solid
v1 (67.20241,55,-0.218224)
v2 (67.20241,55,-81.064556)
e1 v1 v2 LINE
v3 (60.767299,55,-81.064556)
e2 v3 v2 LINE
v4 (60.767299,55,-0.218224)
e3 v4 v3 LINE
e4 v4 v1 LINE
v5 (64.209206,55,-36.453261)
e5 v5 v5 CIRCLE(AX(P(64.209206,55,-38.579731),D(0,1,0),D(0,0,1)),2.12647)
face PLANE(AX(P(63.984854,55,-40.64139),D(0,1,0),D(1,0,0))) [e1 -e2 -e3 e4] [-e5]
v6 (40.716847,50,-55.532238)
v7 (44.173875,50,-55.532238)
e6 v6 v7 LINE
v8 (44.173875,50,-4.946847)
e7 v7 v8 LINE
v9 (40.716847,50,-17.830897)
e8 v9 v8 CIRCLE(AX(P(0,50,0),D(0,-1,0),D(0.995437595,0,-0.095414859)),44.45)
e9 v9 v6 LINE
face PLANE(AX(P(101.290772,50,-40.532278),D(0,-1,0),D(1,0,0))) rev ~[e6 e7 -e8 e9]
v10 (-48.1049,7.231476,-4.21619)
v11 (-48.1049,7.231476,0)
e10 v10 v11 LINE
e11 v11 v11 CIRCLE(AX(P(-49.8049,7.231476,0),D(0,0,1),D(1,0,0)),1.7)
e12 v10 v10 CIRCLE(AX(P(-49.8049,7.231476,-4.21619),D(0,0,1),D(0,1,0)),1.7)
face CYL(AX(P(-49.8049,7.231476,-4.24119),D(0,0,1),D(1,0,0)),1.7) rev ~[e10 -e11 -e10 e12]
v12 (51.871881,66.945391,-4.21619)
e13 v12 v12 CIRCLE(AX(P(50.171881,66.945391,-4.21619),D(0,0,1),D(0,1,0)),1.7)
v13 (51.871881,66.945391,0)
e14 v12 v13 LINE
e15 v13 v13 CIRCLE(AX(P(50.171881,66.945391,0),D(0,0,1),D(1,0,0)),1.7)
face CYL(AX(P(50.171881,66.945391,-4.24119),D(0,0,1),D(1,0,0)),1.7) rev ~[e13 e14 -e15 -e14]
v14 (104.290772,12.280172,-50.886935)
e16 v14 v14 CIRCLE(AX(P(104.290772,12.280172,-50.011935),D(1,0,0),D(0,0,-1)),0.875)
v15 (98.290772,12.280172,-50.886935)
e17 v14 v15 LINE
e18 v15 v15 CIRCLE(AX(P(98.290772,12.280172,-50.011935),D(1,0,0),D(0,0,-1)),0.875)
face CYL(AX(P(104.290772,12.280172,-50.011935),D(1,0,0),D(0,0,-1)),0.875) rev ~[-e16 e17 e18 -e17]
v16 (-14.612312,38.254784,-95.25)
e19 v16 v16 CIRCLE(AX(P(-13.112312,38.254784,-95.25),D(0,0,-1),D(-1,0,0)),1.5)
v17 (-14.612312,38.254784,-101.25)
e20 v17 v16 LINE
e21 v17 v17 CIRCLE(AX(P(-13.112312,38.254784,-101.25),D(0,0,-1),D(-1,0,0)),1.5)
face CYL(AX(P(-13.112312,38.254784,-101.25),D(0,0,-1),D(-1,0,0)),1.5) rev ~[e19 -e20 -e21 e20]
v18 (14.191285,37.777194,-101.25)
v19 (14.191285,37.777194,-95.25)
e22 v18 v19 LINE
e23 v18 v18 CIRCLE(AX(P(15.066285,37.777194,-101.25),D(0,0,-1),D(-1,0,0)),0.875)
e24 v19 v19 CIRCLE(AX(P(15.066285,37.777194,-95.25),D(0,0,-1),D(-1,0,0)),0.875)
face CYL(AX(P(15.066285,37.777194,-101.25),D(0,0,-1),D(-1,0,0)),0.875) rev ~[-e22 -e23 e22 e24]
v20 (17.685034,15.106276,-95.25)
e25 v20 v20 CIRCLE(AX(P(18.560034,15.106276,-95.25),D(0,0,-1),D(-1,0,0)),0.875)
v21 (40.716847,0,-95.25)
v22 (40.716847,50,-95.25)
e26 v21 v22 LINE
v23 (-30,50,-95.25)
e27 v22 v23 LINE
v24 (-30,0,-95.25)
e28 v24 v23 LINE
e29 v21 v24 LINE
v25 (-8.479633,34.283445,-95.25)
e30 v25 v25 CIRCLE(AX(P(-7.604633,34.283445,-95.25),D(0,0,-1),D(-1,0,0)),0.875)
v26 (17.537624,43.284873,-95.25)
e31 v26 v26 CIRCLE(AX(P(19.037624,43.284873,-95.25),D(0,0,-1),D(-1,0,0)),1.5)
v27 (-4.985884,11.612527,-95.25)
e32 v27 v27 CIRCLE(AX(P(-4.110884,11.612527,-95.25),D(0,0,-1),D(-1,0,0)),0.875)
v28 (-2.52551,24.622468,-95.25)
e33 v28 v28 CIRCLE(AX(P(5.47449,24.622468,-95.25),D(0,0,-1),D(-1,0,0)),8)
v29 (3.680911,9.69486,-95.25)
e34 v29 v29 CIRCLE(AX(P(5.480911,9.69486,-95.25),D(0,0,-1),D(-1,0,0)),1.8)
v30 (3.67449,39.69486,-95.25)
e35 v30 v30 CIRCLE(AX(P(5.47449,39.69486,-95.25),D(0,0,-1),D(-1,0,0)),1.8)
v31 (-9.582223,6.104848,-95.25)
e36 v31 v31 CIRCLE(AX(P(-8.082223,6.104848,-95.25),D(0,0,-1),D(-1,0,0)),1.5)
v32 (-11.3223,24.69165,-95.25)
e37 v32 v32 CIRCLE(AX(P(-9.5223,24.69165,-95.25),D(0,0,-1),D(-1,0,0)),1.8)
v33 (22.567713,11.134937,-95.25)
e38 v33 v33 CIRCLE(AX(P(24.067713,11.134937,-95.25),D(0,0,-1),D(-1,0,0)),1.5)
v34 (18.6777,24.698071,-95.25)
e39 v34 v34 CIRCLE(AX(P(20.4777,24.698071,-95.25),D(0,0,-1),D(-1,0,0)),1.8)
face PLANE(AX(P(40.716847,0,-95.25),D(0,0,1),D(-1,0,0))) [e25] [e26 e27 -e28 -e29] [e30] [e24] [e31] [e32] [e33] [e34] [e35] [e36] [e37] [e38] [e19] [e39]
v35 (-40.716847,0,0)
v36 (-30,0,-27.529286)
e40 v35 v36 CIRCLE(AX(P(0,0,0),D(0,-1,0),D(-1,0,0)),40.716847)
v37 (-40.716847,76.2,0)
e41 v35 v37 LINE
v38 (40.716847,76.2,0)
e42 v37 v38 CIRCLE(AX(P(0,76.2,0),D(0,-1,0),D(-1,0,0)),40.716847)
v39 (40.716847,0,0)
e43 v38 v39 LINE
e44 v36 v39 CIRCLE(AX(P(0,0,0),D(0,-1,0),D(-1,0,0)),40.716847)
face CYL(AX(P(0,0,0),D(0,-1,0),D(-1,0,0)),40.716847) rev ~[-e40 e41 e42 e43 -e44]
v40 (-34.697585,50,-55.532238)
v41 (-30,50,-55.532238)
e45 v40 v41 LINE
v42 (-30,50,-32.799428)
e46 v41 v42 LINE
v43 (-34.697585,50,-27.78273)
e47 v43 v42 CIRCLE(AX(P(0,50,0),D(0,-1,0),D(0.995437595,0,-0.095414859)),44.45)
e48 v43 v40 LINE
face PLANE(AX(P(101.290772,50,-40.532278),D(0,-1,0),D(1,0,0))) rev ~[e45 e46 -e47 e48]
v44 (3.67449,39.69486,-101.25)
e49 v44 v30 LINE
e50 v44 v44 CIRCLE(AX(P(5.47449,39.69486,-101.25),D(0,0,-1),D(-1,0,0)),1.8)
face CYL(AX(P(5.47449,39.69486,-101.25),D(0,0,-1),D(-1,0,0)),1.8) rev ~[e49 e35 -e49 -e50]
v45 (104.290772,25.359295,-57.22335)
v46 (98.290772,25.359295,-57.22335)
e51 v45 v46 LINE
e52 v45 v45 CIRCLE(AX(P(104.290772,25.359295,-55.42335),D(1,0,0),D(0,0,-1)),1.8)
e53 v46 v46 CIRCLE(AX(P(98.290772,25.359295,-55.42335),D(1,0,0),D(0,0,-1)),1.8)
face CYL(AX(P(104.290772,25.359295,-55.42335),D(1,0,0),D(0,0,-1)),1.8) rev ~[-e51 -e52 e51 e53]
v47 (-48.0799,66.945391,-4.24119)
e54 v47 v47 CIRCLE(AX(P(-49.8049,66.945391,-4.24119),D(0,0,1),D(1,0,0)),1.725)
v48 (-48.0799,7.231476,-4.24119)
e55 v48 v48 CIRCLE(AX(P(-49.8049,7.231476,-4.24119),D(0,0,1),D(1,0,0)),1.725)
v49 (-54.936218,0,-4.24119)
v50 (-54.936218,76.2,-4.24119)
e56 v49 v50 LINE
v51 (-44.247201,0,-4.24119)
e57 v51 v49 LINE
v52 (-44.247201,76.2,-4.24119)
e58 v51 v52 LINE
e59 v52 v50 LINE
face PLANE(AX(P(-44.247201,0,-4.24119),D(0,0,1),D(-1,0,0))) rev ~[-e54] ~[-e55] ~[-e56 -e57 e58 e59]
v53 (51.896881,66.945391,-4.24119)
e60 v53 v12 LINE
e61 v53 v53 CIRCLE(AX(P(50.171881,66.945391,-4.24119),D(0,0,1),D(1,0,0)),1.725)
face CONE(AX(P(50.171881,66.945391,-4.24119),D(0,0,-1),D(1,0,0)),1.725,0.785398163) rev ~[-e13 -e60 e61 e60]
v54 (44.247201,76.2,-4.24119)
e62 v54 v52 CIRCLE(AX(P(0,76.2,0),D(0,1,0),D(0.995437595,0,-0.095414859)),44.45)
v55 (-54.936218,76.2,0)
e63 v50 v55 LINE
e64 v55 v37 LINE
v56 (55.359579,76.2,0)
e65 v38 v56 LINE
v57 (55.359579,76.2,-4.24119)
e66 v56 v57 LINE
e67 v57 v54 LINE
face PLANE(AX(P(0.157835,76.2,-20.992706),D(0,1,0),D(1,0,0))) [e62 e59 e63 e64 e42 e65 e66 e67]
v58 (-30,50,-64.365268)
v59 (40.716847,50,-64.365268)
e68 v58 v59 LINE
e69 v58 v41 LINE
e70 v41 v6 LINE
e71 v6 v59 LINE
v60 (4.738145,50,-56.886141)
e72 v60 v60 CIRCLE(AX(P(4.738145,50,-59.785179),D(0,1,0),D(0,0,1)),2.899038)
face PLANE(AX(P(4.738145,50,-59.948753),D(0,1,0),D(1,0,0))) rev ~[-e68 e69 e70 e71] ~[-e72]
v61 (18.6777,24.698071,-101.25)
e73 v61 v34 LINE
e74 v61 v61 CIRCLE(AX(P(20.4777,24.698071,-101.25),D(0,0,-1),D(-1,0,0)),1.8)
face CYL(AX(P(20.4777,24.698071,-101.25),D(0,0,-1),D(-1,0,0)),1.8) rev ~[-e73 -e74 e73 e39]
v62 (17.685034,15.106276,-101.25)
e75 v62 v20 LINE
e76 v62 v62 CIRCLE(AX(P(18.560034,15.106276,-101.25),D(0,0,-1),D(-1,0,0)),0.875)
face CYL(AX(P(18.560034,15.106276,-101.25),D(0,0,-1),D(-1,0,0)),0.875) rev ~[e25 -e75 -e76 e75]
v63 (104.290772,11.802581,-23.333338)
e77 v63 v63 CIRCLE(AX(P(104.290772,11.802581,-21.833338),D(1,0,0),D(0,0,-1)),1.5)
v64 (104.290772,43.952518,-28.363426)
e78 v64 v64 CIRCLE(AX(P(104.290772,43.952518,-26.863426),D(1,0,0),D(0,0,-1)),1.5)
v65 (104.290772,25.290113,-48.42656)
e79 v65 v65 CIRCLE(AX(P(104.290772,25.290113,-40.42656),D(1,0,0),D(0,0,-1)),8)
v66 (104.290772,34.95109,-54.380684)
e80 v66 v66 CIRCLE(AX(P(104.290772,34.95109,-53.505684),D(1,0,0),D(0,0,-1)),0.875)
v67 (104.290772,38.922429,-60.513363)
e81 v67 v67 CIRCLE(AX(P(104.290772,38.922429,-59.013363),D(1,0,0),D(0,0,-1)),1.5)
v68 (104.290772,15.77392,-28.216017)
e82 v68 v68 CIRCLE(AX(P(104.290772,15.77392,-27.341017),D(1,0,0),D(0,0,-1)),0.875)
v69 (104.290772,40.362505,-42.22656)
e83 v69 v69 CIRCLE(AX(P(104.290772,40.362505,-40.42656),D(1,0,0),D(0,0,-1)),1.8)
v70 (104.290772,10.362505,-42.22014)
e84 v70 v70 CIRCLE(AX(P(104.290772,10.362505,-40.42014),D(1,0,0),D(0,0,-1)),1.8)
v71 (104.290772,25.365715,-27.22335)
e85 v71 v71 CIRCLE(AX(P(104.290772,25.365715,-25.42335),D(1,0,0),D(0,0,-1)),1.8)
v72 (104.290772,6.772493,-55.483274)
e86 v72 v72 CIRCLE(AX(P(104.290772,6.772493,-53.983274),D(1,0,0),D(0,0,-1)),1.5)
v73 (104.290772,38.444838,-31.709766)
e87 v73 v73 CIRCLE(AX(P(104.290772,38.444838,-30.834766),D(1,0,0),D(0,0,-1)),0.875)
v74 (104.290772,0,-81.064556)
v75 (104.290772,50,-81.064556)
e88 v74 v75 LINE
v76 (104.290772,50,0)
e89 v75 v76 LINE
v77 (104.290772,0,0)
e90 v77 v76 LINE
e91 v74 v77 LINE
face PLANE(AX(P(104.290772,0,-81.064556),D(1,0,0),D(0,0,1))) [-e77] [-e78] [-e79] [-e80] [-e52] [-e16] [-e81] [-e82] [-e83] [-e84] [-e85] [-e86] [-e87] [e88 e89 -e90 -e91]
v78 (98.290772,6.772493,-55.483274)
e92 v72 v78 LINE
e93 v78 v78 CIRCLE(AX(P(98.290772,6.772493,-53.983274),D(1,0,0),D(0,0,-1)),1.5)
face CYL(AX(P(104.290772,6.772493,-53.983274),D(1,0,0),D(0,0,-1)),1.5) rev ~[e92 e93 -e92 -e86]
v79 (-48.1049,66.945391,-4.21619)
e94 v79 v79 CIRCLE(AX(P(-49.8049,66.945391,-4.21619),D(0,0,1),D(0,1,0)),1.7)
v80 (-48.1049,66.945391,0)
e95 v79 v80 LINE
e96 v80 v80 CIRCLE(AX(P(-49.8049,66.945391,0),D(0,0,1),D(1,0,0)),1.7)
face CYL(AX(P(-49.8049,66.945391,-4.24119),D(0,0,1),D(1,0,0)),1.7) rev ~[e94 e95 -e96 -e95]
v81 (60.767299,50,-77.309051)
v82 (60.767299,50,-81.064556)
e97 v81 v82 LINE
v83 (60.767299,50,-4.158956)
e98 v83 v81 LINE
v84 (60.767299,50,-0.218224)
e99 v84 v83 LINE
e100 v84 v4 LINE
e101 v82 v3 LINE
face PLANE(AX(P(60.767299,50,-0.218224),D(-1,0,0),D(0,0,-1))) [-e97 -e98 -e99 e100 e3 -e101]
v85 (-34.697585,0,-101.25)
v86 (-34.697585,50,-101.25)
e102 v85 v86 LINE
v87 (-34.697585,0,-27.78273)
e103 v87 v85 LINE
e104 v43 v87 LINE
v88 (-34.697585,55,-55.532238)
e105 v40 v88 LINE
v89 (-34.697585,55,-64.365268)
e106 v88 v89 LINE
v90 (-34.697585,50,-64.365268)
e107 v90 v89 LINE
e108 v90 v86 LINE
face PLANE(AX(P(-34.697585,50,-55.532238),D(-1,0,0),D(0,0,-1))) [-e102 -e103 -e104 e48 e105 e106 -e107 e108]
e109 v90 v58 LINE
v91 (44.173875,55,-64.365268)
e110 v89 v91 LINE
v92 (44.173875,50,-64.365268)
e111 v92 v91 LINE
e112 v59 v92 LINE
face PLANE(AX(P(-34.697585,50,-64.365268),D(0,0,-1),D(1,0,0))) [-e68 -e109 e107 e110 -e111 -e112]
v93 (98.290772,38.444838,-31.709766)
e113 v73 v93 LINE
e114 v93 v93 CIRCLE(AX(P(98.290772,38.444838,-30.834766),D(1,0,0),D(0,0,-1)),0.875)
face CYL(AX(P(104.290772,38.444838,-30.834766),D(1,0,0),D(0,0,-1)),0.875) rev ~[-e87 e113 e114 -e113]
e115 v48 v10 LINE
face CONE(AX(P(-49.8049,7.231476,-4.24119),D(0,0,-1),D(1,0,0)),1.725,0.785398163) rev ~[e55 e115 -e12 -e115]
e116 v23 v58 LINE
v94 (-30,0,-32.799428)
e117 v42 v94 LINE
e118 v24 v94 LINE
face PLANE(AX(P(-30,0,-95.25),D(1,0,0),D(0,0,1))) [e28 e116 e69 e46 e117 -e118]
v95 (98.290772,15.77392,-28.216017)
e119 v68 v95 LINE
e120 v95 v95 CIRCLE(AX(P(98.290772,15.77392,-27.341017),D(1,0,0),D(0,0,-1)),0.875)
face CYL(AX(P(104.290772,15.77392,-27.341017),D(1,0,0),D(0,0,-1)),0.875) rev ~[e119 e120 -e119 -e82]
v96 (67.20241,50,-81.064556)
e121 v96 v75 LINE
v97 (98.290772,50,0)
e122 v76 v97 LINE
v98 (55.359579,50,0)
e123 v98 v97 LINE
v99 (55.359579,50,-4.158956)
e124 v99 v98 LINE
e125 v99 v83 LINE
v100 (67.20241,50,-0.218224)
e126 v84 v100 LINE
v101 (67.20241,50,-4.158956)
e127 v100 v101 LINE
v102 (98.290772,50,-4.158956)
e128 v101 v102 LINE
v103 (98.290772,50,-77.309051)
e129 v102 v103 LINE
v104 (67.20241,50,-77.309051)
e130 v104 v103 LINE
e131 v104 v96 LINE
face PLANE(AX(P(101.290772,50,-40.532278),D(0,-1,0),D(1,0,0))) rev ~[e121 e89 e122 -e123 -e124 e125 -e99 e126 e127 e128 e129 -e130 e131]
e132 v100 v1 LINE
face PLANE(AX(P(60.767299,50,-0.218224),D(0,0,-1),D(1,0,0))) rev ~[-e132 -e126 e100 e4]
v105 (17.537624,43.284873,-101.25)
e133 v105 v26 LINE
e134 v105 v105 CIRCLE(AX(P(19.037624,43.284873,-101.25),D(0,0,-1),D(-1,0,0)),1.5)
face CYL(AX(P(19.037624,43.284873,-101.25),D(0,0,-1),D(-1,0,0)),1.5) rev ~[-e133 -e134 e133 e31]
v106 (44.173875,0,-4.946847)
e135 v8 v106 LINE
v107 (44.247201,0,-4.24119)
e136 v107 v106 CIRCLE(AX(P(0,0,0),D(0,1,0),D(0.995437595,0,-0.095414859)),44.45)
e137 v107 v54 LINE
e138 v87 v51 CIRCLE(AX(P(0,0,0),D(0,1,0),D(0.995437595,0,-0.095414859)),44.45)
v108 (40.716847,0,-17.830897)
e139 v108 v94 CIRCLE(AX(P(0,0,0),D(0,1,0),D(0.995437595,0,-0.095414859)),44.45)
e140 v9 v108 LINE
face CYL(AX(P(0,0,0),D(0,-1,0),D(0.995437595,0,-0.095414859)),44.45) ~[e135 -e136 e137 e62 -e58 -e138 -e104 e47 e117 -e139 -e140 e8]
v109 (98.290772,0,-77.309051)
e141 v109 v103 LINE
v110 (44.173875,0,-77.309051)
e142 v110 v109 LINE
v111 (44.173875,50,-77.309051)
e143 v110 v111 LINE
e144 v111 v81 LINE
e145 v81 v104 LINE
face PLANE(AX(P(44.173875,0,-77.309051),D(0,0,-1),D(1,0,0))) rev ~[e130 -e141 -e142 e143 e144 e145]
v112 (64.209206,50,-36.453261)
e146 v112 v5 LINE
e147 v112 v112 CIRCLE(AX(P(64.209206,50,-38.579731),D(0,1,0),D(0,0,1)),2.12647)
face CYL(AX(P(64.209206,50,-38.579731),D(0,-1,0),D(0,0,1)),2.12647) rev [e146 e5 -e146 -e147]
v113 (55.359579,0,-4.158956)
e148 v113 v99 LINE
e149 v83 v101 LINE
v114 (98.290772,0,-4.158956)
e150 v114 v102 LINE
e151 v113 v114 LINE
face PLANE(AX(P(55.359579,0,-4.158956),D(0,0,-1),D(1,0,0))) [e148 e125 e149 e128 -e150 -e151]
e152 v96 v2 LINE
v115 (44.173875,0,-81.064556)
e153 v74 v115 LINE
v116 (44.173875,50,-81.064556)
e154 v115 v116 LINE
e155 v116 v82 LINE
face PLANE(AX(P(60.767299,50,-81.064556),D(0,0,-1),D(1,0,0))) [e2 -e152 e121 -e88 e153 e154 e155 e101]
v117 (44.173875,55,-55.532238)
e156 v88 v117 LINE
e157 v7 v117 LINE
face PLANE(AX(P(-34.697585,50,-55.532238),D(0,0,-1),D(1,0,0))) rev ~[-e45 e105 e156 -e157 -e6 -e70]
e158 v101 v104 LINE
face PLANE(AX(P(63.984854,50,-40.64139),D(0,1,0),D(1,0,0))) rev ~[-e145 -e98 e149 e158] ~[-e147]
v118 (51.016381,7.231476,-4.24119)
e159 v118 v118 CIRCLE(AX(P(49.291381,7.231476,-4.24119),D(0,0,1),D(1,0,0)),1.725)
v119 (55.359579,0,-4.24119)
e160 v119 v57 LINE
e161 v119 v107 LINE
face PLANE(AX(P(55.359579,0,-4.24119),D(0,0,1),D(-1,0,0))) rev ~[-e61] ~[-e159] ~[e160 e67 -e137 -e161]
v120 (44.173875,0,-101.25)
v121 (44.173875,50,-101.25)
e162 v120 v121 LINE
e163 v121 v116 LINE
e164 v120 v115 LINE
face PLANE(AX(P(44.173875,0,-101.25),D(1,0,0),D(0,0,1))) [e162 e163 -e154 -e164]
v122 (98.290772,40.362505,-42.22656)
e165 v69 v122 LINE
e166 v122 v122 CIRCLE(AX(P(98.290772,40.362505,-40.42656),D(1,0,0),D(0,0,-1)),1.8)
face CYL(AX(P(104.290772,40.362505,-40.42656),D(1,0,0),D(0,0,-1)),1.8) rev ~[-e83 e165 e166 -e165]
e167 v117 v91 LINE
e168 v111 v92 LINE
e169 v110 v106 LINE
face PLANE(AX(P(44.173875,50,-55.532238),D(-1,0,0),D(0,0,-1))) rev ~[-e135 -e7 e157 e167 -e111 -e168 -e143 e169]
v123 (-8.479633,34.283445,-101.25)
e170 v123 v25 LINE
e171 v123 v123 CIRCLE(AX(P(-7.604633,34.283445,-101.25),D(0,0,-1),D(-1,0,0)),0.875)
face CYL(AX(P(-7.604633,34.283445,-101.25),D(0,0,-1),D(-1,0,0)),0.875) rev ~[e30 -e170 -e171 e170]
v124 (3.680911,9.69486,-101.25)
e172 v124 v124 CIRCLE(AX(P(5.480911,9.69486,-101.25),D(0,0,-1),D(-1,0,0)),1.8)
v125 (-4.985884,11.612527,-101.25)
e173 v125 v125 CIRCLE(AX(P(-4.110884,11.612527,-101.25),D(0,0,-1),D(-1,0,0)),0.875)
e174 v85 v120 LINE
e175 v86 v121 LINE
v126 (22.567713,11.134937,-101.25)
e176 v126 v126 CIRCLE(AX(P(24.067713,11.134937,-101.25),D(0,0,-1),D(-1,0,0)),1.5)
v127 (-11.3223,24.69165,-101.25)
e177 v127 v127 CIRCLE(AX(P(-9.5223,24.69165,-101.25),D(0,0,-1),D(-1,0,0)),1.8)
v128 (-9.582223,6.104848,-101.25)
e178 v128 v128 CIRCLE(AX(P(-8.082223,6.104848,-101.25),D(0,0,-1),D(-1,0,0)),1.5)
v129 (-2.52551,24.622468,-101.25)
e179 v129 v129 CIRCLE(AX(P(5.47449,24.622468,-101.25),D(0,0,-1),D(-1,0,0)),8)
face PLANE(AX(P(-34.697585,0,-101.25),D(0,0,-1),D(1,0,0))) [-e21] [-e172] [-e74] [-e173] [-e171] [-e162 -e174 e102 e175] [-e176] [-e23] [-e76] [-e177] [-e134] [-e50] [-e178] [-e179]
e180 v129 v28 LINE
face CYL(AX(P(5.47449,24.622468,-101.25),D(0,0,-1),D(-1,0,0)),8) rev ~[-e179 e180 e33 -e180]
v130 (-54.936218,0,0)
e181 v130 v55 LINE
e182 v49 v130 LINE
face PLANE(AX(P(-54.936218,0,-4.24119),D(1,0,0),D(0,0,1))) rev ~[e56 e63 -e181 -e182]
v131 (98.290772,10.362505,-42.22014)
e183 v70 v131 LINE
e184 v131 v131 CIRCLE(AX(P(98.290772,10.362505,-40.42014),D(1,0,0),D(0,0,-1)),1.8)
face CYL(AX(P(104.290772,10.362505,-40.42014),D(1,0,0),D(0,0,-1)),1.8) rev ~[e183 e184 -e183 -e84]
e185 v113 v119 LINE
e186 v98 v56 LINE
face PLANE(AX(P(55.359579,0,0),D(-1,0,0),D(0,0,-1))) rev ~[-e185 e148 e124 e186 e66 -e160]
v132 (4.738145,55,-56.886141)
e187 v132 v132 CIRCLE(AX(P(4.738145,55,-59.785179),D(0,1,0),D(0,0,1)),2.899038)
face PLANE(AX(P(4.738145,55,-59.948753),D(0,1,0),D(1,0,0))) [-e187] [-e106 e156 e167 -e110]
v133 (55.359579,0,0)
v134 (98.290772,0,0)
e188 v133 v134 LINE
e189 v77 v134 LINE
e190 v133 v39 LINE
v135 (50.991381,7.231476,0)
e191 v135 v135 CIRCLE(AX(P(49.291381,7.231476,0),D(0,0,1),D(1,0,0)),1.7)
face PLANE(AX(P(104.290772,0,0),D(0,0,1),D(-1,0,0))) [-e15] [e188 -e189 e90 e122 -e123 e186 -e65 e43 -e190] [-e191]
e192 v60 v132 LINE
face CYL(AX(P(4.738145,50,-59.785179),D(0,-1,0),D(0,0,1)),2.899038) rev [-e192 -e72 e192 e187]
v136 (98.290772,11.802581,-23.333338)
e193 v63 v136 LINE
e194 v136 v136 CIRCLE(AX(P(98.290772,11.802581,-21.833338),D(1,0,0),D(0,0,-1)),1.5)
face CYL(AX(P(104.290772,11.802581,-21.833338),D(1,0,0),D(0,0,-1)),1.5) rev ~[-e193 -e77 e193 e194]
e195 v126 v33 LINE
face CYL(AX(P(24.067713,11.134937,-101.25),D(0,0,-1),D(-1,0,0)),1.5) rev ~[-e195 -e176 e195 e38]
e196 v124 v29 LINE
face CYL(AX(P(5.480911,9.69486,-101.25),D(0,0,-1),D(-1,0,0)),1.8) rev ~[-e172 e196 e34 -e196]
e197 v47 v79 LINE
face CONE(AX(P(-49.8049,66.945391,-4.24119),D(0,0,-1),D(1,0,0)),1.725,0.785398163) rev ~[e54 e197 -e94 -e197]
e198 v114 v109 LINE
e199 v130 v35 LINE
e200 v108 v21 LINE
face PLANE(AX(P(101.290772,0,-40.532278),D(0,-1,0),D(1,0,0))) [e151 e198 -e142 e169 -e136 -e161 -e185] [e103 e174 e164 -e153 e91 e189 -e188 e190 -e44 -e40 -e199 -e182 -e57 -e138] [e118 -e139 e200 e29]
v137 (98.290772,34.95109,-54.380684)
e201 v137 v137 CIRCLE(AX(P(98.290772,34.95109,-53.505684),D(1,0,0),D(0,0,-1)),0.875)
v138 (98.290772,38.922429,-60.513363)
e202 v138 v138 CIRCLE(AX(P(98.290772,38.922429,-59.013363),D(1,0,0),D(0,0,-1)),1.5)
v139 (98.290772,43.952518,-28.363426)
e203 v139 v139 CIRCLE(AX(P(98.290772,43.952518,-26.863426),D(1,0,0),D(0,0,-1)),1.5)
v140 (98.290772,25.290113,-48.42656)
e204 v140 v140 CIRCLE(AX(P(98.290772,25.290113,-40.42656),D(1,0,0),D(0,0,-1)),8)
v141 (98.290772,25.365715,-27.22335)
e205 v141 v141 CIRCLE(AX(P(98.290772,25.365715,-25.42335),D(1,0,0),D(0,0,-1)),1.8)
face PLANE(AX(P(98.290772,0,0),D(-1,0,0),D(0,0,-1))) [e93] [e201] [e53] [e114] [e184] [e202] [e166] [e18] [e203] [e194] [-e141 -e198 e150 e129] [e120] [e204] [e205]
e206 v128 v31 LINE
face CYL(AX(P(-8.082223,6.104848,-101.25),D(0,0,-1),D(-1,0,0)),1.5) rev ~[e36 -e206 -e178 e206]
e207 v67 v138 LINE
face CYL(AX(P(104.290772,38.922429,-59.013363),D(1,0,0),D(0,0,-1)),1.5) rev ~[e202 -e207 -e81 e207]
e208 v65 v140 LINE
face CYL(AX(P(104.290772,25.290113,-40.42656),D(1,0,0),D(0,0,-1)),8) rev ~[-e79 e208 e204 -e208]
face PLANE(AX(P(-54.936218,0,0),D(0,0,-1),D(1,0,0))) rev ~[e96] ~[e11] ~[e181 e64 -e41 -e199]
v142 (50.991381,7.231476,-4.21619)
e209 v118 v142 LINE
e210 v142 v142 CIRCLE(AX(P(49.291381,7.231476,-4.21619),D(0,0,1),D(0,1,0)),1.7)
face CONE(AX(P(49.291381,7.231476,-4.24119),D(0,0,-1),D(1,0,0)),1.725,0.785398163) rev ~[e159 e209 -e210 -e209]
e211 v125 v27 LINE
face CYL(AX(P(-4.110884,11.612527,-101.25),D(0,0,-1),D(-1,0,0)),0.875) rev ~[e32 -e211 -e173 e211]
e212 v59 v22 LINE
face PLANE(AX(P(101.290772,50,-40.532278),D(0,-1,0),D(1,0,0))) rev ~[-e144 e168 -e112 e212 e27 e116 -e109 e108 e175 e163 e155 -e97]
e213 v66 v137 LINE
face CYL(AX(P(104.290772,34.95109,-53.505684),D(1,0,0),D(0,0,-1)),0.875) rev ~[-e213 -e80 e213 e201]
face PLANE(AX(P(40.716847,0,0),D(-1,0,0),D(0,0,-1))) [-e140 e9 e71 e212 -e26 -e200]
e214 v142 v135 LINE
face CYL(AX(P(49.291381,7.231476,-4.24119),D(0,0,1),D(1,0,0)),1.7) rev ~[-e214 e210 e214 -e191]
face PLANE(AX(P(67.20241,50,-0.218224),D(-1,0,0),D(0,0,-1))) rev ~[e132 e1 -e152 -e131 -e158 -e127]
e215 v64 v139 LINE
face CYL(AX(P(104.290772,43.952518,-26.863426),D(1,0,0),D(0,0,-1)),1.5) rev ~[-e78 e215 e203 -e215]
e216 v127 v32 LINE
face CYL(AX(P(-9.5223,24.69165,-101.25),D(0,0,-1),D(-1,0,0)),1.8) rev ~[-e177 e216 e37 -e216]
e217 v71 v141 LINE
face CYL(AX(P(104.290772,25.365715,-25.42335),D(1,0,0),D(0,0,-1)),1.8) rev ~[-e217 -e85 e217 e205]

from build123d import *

# Parameters (mm, degrees)
BOSS_EXTRUDE1_DEPTH            = 76.2
M3_CLEARANCE_HOLE1_D           = 3.4
M3_CLEARANCE_HOLE1_CSINK_D     = 3.45
M3_CLEARANCE_HOLE1_CSINK_ANGLE = 90
BOSS_EXTRUDE2_DEPTH            = 50
CUT_EXTRUDE1_REACH             = 140.285
SKETCH6_R                      = 8
SKETCH6_R_2                    = 0.875
SKETCH6_R_3                    = 1.8
SKETCH6_R_4                    = 1.5
SKETCH8_W                      = 57.573925352
SKETCH8_H                      = 3.755504354
SKETCH8_W_2                    = 42.931192533
SKETCH8_H_2                    = 4.158956093
BOSS_EXTRUDE4_DEPTH            = 50
BOSS_EXTRUDE5_DEPTH            = 50
CUT_EXTRUDE2_REACH             = 205.498
SKETCH9_R                      = 8
SKETCH9_R_2                    = 0.875
SKETCH9_R_3                    = 1.8
SKETCH9_R_4                    = 1.5
SKETCH11_W                     = 78.871459379
SKETCH11_H                     = 8.833029297
SKETCH11_R                     = 2.899037526
BOSS_EXTRUDE6_DEPTH            = 5
SKETCH13_W                     = 6.435110791
SKETCH13_H                     = 80.84633132
SKETCH13_R                     = 2.126470016
BOSS_EXTRUDE9_DEPTH            = 5


with BuildPart() as part:
    # Sketch1 → Boss-Extrude1 (new body)
    with BuildSketch(Plane(origin=(0, 0, 0), x_dir=(1, 0, 0), z_dir=(0, 1, 0))):
        with BuildLine():
            ThreePointArc((-40.716846583, 0), (0, 40.716846583), (40.716846583, 0))
            Line((40.716846583, 0), (55.359579402, 0))
            Line((55.359579402, 0), (55.359579402, 4.24119048))
            Line((55.359579402, 4.24119048), (44.247201079, 4.24119048))
            ThreePointArc((44.247201079, 4.24119048), (0, 44.45), (-44.247201079, 4.24119048))
            Line((-44.247201079, 4.24119048), (-54.936217795, 4.24119048))
            Line((-54.936217795, 4.24119048), (-54.936217795, 0))
            Line((-54.936217795, 0), (-40.716846583, 0))
        make_face()
    extrude(amount=BOSS_EXTRUDE1_DEPTH)

    # M3 Clearance Hole1 (through all)
    with Locations(Plane(origin=(50.171881224, 66.945390665, -4.24119048), x_dir=(-1, 0, 0), z_dir=(0, 0, -1))):
        with Locations((0, 0), (0.880500078, -59.713914359), (99.976781548, -59.713914359), (99.976781548, 0)):
            CounterSinkHole(M3_CLEARANCE_HOLE1_D / 2, M3_CLEARANCE_HOLE1_CSINK_D / 2, counter_sink_angle=M3_CLEARANCE_HOLE1_CSINK_ANGLE)

    # Sketch5 → Boss-Extrude2 (add)
    with BuildSketch(Plane.XZ):
        Polygon((-30, -27.529286146), (-34.697584749, -27.529286146), (-34.697584749, -101.25), (44.17387463, -101.25), (44.17387463, 0), (40.716846583, 0), (40.716846583, -95.25), (-30, -95.25), align=None)
    extrude(amount=-BOSS_EXTRUDE2_DEPTH)

    # Sketch6 → Cut-Extrude1 (cut, up to next)
    with BuildSketch(Plane(origin=(0, 0, -101.25), x_dir=(-1, 0, 0), z_dir=(0, 0, -1)), mode=Mode.PRIVATE) as cut_extrude1_sk1:
        with Locations((-5.474490166, 24.622467849)):
            Circle(SKETCH6_R)
    cut_extrude1_tool1 = extrude(cut_extrude1_sk1.sketch, amount=-CUT_EXTRUDE1_REACH, mode=Mode.PRIVATE) & part.part
    # Sketch6 → Cut-Extrude1 (cut, up to next)
    with BuildSketch(Plane(origin=(0, 0, -101.25), x_dir=(-1, 0, 0), z_dir=(0, 0, -1)), mode=Mode.PRIVATE) as cut_extrude1_sk2:
        with Locations((-15.066285044, 37.777193582)):
            Circle(SKETCH6_R_2)
    cut_extrude1_tool2 = extrude(cut_extrude1_sk2.sketch, amount=-CUT_EXTRUDE1_REACH, mode=Mode.PRIVATE) & part.part
    # Sketch6 → Cut-Extrude1 (cut, up to next)
    with BuildSketch(Plane(origin=(0, 0, -101.25), x_dir=(-1, 0, 0), z_dir=(0, 0, -1)), mode=Mode.PRIVATE) as cut_extrude1_sk3:
        with Locations((7.604632911, 34.283445011)):
            Circle(SKETCH6_R_2)
    cut_extrude1_tool3 = extrude(cut_extrude1_sk3.sketch, amount=-CUT_EXTRUDE1_REACH, mode=Mode.PRIVATE) & part.part
    # Sketch6 → Cut-Extrude1 (cut, up to next)
    with BuildSketch(Plane(origin=(0, 0, -101.25), x_dir=(-1, 0, 0), z_dir=(0, 0, -1)), mode=Mode.PRIVATE) as cut_extrude1_sk4:
        with Locations((4.11088434, 11.612527056)):
            Circle(SKETCH6_R_2)
    cut_extrude1_tool4 = extrude(cut_extrude1_sk4.sketch, amount=-CUT_EXTRUDE1_REACH, mode=Mode.PRIVATE) & part.part
    # Sketch6 → Cut-Extrude1 (cut, up to next)
    with BuildSketch(Plane(origin=(0, 0, -101.25), x_dir=(-1, 0, 0), z_dir=(0, 0, -1)), mode=Mode.PRIVATE) as cut_extrude1_sk5:
        with Locations((-18.560033615, 15.106275627)):
            Circle(SKETCH6_R_2)
    cut_extrude1_tool5 = extrude(cut_extrude1_sk5.sketch, amount=-CUT_EXTRUDE1_REACH, mode=Mode.PRIVATE) & part.part
    # Sketch6 → Cut-Extrude1 (cut, up to next)
    with BuildSketch(Plane(origin=(0, 0, -101.25), x_dir=(-1, 0, 0), z_dir=(0, 0, -1)), mode=Mode.PRIVATE) as cut_extrude1_sk6:
        with Locations((-5.474490166, 39.694860319)):
            Circle(SKETCH6_R_3)
    cut_extrude1_tool6 = extrude(cut_extrude1_sk6.sketch, amount=-CUT_EXTRUDE1_REACH, mode=Mode.PRIVATE) & part.part
    # Sketch6 → Cut-Extrude1 (cut, up to next)
    with BuildSketch(Plane(origin=(0, 0, -101.25), x_dir=(-1, 0, 0), z_dir=(0, 0, -1)), mode=Mode.PRIVATE) as cut_extrude1_sk7:
        with Locations((9.522299648, 24.691650133)):
            Circle(SKETCH6_R_3)
    cut_extrude1_tool7 = extrude(cut_extrude1_sk7.sketch, amount=-CUT_EXTRUDE1_REACH, mode=Mode.PRIVATE) & part.part
    # Sketch6 → Cut-Extrude1 (cut, up to next)
    with BuildSketch(Plane(origin=(0, 0, -101.25), x_dir=(-1, 0, 0), z_dir=(0, 0, -1)), mode=Mode.PRIVATE) as cut_extrude1_sk8:
        with Locations((-5.480910537, 9.694860319)):
            Circle(SKETCH6_R_3)
    cut_extrude1_tool8 = extrude(cut_extrude1_sk8.sketch, amount=-CUT_EXTRUDE1_REACH, mode=Mode.PRIVATE) & part.part
    # Sketch6 → Cut-Extrude1 (cut, up to next)
    with BuildSketch(Plane(origin=(0, 0, -101.25), x_dir=(-1, 0, 0), z_dir=(0, 0, -1)), mode=Mode.PRIVATE) as cut_extrude1_sk9:
        with Locations((-20.477700352, 24.698070504)):
            Circle(SKETCH6_R_3)
    cut_extrude1_tool9 = extrude(cut_extrude1_sk9.sketch, amount=-CUT_EXTRUDE1_REACH, mode=Mode.PRIVATE) & part.part
    # Sketch6 → Cut-Extrude1 (cut, up to next)
    with BuildSketch(Plane(origin=(0, 0, -101.25), x_dir=(-1, 0, 0), z_dir=(0, 0, -1)), mode=Mode.PRIVATE) as cut_extrude1_sk10:
        with Locations((-19.037624155, 43.284872865)):
            Circle(SKETCH6_R_4)
    cut_extrude1_tool10 = extrude(cut_extrude1_sk10.sketch, amount=-CUT_EXTRUDE1_REACH, mode=Mode.PRIVATE) & part.part
    # Sketch6 → Cut-Extrude1 (cut, up to next)
    with BuildSketch(Plane(origin=(0, 0, -101.25), x_dir=(-1, 0, 0), z_dir=(0, 0, -1)), mode=Mode.PRIVATE) as cut_extrude1_sk11:
        with Locations((13.112312194, 38.254784122)):
            Circle(SKETCH6_R_4)
    cut_extrude1_tool11 = extrude(cut_extrude1_sk11.sketch, amount=-CUT_EXTRUDE1_REACH, mode=Mode.PRIVATE) & part.part
    # Sketch6 → Cut-Extrude1 (cut, up to next)
    with BuildSketch(Plane(origin=(0, 0, -101.25), x_dir=(-1, 0, 0), z_dir=(0, 0, -1)), mode=Mode.PRIVATE) as cut_extrude1_sk12:
        with Locations((8.082223451, 6.104847773)):
            Circle(SKETCH6_R_4)
    cut_extrude1_tool12 = extrude(cut_extrude1_sk12.sketch, amount=-CUT_EXTRUDE1_REACH, mode=Mode.PRIVATE) & part.part
    # Sketch6 → Cut-Extrude1 (cut, up to next)
    with BuildSketch(Plane(origin=(0, 0, -101.25), x_dir=(-1, 0, 0), z_dir=(0, 0, -1)), mode=Mode.PRIVATE) as cut_extrude1_sk13:
        with Locations((-24.067712897, 11.134936516)):
            Circle(SKETCH6_R_4)
    cut_extrude1_tool13 = extrude(cut_extrude1_sk13.sketch, amount=-CUT_EXTRUDE1_REACH, mode=Mode.PRIVATE) & part.part
    add(cut_extrude1_tool1.solids().sort_by_distance((5.47449, 24.622468, -101.25))[0], mode=Mode.SUBTRACT)
    add(cut_extrude1_tool2.solids().sort_by_distance((15.066285, 37.777194, -101.25))[0], mode=Mode.SUBTRACT)
    add(cut_extrude1_tool3.solids().sort_by_distance((-7.604633, 34.283445, -101.25))[0], mode=Mode.SUBTRACT)
    add(cut_extrude1_tool4.solids().sort_by_distance((-4.110884, 11.612527, -101.25))[0], mode=Mode.SUBTRACT)
    add(cut_extrude1_tool5.solids().sort_by_distance((18.560034, 15.106276, -101.25))[0], mode=Mode.SUBTRACT)
    add(cut_extrude1_tool6.solids().sort_by_distance((5.47449, 39.69486, -101.25))[0], mode=Mode.SUBTRACT)
    add(cut_extrude1_tool7.solids().sort_by_distance((-9.5223, 24.69165, -101.25))[0], mode=Mode.SUBTRACT)
    add(cut_extrude1_tool8.solids().sort_by_distance((5.480911, 9.69486, -101.25))[0], mode=Mode.SUBTRACT)
    add(cut_extrude1_tool9.solids().sort_by_distance((20.4777, 24.698071, -101.25))[0], mode=Mode.SUBTRACT)
    add(cut_extrude1_tool10.solids().sort_by_distance((19.037624, 43.284873, -101.25))[0], mode=Mode.SUBTRACT)
    add(cut_extrude1_tool11.solids().sort_by_distance((-13.112312, 38.254784, -101.25))[0], mode=Mode.SUBTRACT)
    add(cut_extrude1_tool12.solids().sort_by_distance((-8.082223, 6.104848, -101.25))[0], mode=Mode.SUBTRACT)
    add(cut_extrude1_tool13.solids().sort_by_distance((24.067713, 11.134937, -101.25))[0], mode=Mode.SUBTRACT)

    # Sketch8 → Boss-Extrude4 (add)
    with BuildSketch(Plane.XZ):
        with Locations((69.503809259, -79.186803569)):
            Rectangle(SKETCH8_W, SKETCH8_H)
        with Locations((76.825175669, -2.079478047)):
            Rectangle(SKETCH8_W_2, SKETCH8_H_2)
    extrude(amount=-BOSS_EXTRUDE4_DEPTH)

    # Sketch8<3> → Boss-Extrude5 (add)
    with BuildSketch(Plane.XZ):
        Polygon((98.290771935, -4.158956093), (98.290771935, -77.309051392), (98.290771935, -81.064555746), (104.290771935, -81.064555746), (104.290771935, 0), (98.290771935, 0), align=None)
    extrude(amount=-BOSS_EXTRUDE5_DEPTH)

    # Sketch9 → Cut-Extrude2 (cut, up to next)
    with BuildSketch(Plane(origin=(104.290771935, 0, 0), x_dir=(0, 0, -1), z_dir=(1, 0, 0)), mode=Mode.PRIVATE) as cut_extrude2_sk1:
        with Locations((40.426560471, 25.290112626)):
            Circle(SKETCH9_R)
    cut_extrude2_tool1 = extrude(cut_extrude2_sk1.sketch, amount=-CUT_EXTRUDE2_REACH, mode=Mode.PRIVATE) & part.part
    # Sketch9 → Cut-Extrude2 (cut, up to next)
    with BuildSketch(Plane(origin=(104.290771935, 0, 0), x_dir=(0, 0, -1), z_dir=(1, 0, 0)), mode=Mode.PRIVATE) as cut_extrude2_sk2:
        with Locations((30.834765593, 38.444838359)):
            Circle(SKETCH9_R_2)
    cut_extrude2_tool2 = extrude(cut_extrude2_sk2.sketch, amount=-CUT_EXTRUDE2_REACH, mode=Mode.PRIVATE) & part.part
    # Sketch9 → Cut-Extrude2 (cut, up to next)
    with BuildSketch(Plane(origin=(104.290771935, 0, 0), x_dir=(0, 0, -1), z_dir=(1, 0, 0)), mode=Mode.PRIVATE) as cut_extrude2_sk3:
        with Locations((53.505683549, 34.951089788)):
            Circle(SKETCH9_R_2)
    cut_extrude2_tool3 = extrude(cut_extrude2_sk3.sketch, amount=-CUT_EXTRUDE2_REACH, mode=Mode.PRIVATE) & part.part
    # Sketch9 → Cut-Extrude2 (cut, up to next)
    with BuildSketch(Plane(origin=(104.290771935, 0, 0), x_dir=(0, 0, -1), z_dir=(1, 0, 0)), mode=Mode.PRIVATE) as cut_extrude2_sk4:
        with Locations((50.011934978, 12.280171833)):
            Circle(SKETCH9_R_2)
    cut_extrude2_tool4 = extrude(cut_extrude2_sk4.sketch, amount=-CUT_EXTRUDE2_REACH, mode=Mode.PRIVATE) & part.part
    # Sketch9 → Cut-Extrude2 (cut, up to next)
    with BuildSketch(Plane(origin=(104.290771935, 0, 0), x_dir=(0, 0, -1), z_dir=(1, 0, 0)), mode=Mode.PRIVATE) as cut_extrude2_sk5:
        with Locations((27.341017023, 15.773920404)):
            Circle(SKETCH9_R_2)
    cut_extrude2_tool5 = extrude(cut_extrude2_sk5.sketch, amount=-CUT_EXTRUDE2_REACH, mode=Mode.PRIVATE) & part.part
    # Sketch9 → Cut-Extrude2 (cut, up to next)
    with BuildSketch(Plane(origin=(104.290771935, 0, 0), x_dir=(0, 0, -1), z_dir=(1, 0, 0)), mode=Mode.PRIVATE) as cut_extrude2_sk6:
        with Locations((40.426560471, 40.362505096)):
            Circle(SKETCH9_R_3)
    cut_extrude2_tool6 = extrude(cut_extrude2_sk6.sketch, amount=-CUT_EXTRUDE2_REACH, mode=Mode.PRIVATE) & part.part
    # Sketch9 → Cut-Extrude2 (cut, up to next)
    with BuildSketch(Plane(origin=(104.290771935, 0, 0), x_dir=(0, 0, -1), z_dir=(1, 0, 0)), mode=Mode.PRIVATE) as cut_extrude2_sk7:
        with Locations((55.423350286, 25.359294911)):
            Circle(SKETCH9_R_3)
    cut_extrude2_tool7 = extrude(cut_extrude2_sk7.sketch, amount=-CUT_EXTRUDE2_REACH, mode=Mode.PRIVATE) & part.part
    # Sketch9 → Cut-Extrude2 (cut, up to next)
    with BuildSketch(Plane(origin=(104.290771935, 0, 0), x_dir=(0, 0, -1), z_dir=(1, 0, 0)), mode=Mode.PRIVATE) as cut_extrude2_sk8:
        with Locations((40.4201401, 10.362505096)):
            Circle(SKETCH9_R_3)
    cut_extrude2_tool8 = extrude(cut_extrude2_sk8.sketch, amount=-CUT_EXTRUDE2_REACH, mode=Mode.PRIVATE) & part.part
    # Sketch9 → Cut-Extrude2 (cut, up to next)
    with BuildSketch(Plane(origin=(104.290771935, 0, 0), x_dir=(0, 0, -1), z_dir=(1, 0, 0)), mode=Mode.PRIVATE) as cut_extrude2_sk9:
        with Locations((25.423350286, 25.365715282)):
            Circle(SKETCH9_R_3)
    cut_extrude2_tool9 = extrude(cut_extrude2_sk9.sketch, amount=-CUT_EXTRUDE2_REACH, mode=Mode.PRIVATE) & part.part
    # Sketch9 → Cut-Extrude2 (cut, up to next)
    with BuildSketch(Plane(origin=(104.290771935, 0, 0), x_dir=(0, 0, -1), z_dir=(1, 0, 0)), mode=Mode.PRIVATE) as cut_extrude2_sk10:
        with Locations((59.013362831, 38.922428899)):
            Circle(SKETCH9_R_4)
    cut_extrude2_tool10 = extrude(cut_extrude2_sk10.sketch, amount=-CUT_EXTRUDE2_REACH, mode=Mode.PRIVATE) & part.part
    # Sketch9 → Cut-Extrude2 (cut, up to next)
    with BuildSketch(Plane(origin=(104.290771935, 0, 0), x_dir=(0, 0, -1), z_dir=(1, 0, 0)), mode=Mode.PRIVATE) as cut_extrude2_sk11:
        with Locations((53.983274089, 6.77249255)):
            Circle(SKETCH9_R_4)
    cut_extrude2_tool11 = extrude(cut_extrude2_sk11.sketch, amount=-CUT_EXTRUDE2_REACH, mode=Mode.PRIVATE) & part.part
    # Sketch9 → Cut-Extrude2 (cut, up to next)
    with BuildSketch(Plane(origin=(104.290771935, 0, 0), x_dir=(0, 0, -1), z_dir=(1, 0, 0)), mode=Mode.PRIVATE) as cut_extrude2_sk12:
        with Locations((26.863426483, 43.952517642)):
            Circle(SKETCH9_R_4)
    cut_extrude2_tool12 = extrude(cut_extrude2_sk12.sketch, amount=-CUT_EXTRUDE2_REACH, mode=Mode.PRIVATE) & part.part
    # Sketch9 → Cut-Extrude2 (cut, up to next)
    with BuildSketch(Plane(origin=(104.290771935, 0, 0), x_dir=(0, 0, -1), z_dir=(1, 0, 0)), mode=Mode.PRIVATE) as cut_extrude2_sk13:
        with Locations((21.83333774, 11.802581293)):
            Circle(SKETCH9_R_4)
    cut_extrude2_tool13 = extrude(cut_extrude2_sk13.sketch, amount=-CUT_EXTRUDE2_REACH, mode=Mode.PRIVATE) & part.part
    add(cut_extrude2_tool1.solids().sort_by_distance((104.290772, 25.290113, -40.42656))[0], mode=Mode.SUBTRACT)
    add(cut_extrude2_tool2.solids().sort_by_distance((104.290772, 38.444838, -30.834766))[0], mode=Mode.SUBTRACT)
    add(cut_extrude2_tool3.solids().sort_by_distance((104.290772, 34.95109, -53.505684))[0], mode=Mode.SUBTRACT)
    add(cut_extrude2_tool4.solids().sort_by_distance((104.290772, 12.280172, -50.011935))[0], mode=Mode.SUBTRACT)
    add(cut_extrude2_tool5.solids().sort_by_distance((104.290772, 15.77392, -27.341017))[0], mode=Mode.SUBTRACT)
    add(cut_extrude2_tool6.solids().sort_by_distance((104.290772, 40.362505, -40.42656))[0], mode=Mode.SUBTRACT)
    add(cut_extrude2_tool7.solids().sort_by_distance((104.290772, 25.359295, -55.42335))[0], mode=Mode.SUBTRACT)
    add(cut_extrude2_tool8.solids().sort_by_distance((104.290772, 10.362505, -40.42014))[0], mode=Mode.SUBTRACT)
    add(cut_extrude2_tool9.solids().sort_by_distance((104.290772, 25.365715, -25.42335))[0], mode=Mode.SUBTRACT)
    add(cut_extrude2_tool10.solids().sort_by_distance((104.290772, 38.922429, -59.013363))[0], mode=Mode.SUBTRACT)
    add(cut_extrude2_tool11.solids().sort_by_distance((104.290772, 6.772493, -53.983274))[0], mode=Mode.SUBTRACT)
    add(cut_extrude2_tool12.solids().sort_by_distance((104.290772, 43.952518, -26.863426))[0], mode=Mode.SUBTRACT)
    add(cut_extrude2_tool13.solids().sort_by_distance((104.290772, 11.802581, -21.833338))[0], mode=Mode.SUBTRACT)

    # Sketch11 → Boss-Extrude6 (add)
    with BuildSketch(Plane(origin=(0, 50, 0), x_dir=(1, 0, 0), z_dir=(0, 1, 0))):
        with Locations((4.73814494, 59.948753147)):
            Rectangle(SKETCH11_W, SKETCH11_H)
        with Locations((4.738144941, 59.78517853)):
            Circle(SKETCH11_R, mode=Mode.SUBTRACT)
    extrude(amount=BOSS_EXTRUDE6_DEPTH)

    # Sketch13 → Boss-Extrude9 (add)
    with BuildSketch(Plane(origin=(0, 50, 0), x_dir=(1, 0, 0), z_dir=(0, 1, 0))):
        with Locations((63.984854455, 40.641390086)):
            Rectangle(SKETCH13_W, SKETCH13_H)
        with Locations((64.209206258, 38.579730756)):
            Circle(SKETCH13_R, mode=Mode.SUBTRACT)
    extrude(amount=BOSS_EXTRUDE9_DEPTH)


solid = part.part
